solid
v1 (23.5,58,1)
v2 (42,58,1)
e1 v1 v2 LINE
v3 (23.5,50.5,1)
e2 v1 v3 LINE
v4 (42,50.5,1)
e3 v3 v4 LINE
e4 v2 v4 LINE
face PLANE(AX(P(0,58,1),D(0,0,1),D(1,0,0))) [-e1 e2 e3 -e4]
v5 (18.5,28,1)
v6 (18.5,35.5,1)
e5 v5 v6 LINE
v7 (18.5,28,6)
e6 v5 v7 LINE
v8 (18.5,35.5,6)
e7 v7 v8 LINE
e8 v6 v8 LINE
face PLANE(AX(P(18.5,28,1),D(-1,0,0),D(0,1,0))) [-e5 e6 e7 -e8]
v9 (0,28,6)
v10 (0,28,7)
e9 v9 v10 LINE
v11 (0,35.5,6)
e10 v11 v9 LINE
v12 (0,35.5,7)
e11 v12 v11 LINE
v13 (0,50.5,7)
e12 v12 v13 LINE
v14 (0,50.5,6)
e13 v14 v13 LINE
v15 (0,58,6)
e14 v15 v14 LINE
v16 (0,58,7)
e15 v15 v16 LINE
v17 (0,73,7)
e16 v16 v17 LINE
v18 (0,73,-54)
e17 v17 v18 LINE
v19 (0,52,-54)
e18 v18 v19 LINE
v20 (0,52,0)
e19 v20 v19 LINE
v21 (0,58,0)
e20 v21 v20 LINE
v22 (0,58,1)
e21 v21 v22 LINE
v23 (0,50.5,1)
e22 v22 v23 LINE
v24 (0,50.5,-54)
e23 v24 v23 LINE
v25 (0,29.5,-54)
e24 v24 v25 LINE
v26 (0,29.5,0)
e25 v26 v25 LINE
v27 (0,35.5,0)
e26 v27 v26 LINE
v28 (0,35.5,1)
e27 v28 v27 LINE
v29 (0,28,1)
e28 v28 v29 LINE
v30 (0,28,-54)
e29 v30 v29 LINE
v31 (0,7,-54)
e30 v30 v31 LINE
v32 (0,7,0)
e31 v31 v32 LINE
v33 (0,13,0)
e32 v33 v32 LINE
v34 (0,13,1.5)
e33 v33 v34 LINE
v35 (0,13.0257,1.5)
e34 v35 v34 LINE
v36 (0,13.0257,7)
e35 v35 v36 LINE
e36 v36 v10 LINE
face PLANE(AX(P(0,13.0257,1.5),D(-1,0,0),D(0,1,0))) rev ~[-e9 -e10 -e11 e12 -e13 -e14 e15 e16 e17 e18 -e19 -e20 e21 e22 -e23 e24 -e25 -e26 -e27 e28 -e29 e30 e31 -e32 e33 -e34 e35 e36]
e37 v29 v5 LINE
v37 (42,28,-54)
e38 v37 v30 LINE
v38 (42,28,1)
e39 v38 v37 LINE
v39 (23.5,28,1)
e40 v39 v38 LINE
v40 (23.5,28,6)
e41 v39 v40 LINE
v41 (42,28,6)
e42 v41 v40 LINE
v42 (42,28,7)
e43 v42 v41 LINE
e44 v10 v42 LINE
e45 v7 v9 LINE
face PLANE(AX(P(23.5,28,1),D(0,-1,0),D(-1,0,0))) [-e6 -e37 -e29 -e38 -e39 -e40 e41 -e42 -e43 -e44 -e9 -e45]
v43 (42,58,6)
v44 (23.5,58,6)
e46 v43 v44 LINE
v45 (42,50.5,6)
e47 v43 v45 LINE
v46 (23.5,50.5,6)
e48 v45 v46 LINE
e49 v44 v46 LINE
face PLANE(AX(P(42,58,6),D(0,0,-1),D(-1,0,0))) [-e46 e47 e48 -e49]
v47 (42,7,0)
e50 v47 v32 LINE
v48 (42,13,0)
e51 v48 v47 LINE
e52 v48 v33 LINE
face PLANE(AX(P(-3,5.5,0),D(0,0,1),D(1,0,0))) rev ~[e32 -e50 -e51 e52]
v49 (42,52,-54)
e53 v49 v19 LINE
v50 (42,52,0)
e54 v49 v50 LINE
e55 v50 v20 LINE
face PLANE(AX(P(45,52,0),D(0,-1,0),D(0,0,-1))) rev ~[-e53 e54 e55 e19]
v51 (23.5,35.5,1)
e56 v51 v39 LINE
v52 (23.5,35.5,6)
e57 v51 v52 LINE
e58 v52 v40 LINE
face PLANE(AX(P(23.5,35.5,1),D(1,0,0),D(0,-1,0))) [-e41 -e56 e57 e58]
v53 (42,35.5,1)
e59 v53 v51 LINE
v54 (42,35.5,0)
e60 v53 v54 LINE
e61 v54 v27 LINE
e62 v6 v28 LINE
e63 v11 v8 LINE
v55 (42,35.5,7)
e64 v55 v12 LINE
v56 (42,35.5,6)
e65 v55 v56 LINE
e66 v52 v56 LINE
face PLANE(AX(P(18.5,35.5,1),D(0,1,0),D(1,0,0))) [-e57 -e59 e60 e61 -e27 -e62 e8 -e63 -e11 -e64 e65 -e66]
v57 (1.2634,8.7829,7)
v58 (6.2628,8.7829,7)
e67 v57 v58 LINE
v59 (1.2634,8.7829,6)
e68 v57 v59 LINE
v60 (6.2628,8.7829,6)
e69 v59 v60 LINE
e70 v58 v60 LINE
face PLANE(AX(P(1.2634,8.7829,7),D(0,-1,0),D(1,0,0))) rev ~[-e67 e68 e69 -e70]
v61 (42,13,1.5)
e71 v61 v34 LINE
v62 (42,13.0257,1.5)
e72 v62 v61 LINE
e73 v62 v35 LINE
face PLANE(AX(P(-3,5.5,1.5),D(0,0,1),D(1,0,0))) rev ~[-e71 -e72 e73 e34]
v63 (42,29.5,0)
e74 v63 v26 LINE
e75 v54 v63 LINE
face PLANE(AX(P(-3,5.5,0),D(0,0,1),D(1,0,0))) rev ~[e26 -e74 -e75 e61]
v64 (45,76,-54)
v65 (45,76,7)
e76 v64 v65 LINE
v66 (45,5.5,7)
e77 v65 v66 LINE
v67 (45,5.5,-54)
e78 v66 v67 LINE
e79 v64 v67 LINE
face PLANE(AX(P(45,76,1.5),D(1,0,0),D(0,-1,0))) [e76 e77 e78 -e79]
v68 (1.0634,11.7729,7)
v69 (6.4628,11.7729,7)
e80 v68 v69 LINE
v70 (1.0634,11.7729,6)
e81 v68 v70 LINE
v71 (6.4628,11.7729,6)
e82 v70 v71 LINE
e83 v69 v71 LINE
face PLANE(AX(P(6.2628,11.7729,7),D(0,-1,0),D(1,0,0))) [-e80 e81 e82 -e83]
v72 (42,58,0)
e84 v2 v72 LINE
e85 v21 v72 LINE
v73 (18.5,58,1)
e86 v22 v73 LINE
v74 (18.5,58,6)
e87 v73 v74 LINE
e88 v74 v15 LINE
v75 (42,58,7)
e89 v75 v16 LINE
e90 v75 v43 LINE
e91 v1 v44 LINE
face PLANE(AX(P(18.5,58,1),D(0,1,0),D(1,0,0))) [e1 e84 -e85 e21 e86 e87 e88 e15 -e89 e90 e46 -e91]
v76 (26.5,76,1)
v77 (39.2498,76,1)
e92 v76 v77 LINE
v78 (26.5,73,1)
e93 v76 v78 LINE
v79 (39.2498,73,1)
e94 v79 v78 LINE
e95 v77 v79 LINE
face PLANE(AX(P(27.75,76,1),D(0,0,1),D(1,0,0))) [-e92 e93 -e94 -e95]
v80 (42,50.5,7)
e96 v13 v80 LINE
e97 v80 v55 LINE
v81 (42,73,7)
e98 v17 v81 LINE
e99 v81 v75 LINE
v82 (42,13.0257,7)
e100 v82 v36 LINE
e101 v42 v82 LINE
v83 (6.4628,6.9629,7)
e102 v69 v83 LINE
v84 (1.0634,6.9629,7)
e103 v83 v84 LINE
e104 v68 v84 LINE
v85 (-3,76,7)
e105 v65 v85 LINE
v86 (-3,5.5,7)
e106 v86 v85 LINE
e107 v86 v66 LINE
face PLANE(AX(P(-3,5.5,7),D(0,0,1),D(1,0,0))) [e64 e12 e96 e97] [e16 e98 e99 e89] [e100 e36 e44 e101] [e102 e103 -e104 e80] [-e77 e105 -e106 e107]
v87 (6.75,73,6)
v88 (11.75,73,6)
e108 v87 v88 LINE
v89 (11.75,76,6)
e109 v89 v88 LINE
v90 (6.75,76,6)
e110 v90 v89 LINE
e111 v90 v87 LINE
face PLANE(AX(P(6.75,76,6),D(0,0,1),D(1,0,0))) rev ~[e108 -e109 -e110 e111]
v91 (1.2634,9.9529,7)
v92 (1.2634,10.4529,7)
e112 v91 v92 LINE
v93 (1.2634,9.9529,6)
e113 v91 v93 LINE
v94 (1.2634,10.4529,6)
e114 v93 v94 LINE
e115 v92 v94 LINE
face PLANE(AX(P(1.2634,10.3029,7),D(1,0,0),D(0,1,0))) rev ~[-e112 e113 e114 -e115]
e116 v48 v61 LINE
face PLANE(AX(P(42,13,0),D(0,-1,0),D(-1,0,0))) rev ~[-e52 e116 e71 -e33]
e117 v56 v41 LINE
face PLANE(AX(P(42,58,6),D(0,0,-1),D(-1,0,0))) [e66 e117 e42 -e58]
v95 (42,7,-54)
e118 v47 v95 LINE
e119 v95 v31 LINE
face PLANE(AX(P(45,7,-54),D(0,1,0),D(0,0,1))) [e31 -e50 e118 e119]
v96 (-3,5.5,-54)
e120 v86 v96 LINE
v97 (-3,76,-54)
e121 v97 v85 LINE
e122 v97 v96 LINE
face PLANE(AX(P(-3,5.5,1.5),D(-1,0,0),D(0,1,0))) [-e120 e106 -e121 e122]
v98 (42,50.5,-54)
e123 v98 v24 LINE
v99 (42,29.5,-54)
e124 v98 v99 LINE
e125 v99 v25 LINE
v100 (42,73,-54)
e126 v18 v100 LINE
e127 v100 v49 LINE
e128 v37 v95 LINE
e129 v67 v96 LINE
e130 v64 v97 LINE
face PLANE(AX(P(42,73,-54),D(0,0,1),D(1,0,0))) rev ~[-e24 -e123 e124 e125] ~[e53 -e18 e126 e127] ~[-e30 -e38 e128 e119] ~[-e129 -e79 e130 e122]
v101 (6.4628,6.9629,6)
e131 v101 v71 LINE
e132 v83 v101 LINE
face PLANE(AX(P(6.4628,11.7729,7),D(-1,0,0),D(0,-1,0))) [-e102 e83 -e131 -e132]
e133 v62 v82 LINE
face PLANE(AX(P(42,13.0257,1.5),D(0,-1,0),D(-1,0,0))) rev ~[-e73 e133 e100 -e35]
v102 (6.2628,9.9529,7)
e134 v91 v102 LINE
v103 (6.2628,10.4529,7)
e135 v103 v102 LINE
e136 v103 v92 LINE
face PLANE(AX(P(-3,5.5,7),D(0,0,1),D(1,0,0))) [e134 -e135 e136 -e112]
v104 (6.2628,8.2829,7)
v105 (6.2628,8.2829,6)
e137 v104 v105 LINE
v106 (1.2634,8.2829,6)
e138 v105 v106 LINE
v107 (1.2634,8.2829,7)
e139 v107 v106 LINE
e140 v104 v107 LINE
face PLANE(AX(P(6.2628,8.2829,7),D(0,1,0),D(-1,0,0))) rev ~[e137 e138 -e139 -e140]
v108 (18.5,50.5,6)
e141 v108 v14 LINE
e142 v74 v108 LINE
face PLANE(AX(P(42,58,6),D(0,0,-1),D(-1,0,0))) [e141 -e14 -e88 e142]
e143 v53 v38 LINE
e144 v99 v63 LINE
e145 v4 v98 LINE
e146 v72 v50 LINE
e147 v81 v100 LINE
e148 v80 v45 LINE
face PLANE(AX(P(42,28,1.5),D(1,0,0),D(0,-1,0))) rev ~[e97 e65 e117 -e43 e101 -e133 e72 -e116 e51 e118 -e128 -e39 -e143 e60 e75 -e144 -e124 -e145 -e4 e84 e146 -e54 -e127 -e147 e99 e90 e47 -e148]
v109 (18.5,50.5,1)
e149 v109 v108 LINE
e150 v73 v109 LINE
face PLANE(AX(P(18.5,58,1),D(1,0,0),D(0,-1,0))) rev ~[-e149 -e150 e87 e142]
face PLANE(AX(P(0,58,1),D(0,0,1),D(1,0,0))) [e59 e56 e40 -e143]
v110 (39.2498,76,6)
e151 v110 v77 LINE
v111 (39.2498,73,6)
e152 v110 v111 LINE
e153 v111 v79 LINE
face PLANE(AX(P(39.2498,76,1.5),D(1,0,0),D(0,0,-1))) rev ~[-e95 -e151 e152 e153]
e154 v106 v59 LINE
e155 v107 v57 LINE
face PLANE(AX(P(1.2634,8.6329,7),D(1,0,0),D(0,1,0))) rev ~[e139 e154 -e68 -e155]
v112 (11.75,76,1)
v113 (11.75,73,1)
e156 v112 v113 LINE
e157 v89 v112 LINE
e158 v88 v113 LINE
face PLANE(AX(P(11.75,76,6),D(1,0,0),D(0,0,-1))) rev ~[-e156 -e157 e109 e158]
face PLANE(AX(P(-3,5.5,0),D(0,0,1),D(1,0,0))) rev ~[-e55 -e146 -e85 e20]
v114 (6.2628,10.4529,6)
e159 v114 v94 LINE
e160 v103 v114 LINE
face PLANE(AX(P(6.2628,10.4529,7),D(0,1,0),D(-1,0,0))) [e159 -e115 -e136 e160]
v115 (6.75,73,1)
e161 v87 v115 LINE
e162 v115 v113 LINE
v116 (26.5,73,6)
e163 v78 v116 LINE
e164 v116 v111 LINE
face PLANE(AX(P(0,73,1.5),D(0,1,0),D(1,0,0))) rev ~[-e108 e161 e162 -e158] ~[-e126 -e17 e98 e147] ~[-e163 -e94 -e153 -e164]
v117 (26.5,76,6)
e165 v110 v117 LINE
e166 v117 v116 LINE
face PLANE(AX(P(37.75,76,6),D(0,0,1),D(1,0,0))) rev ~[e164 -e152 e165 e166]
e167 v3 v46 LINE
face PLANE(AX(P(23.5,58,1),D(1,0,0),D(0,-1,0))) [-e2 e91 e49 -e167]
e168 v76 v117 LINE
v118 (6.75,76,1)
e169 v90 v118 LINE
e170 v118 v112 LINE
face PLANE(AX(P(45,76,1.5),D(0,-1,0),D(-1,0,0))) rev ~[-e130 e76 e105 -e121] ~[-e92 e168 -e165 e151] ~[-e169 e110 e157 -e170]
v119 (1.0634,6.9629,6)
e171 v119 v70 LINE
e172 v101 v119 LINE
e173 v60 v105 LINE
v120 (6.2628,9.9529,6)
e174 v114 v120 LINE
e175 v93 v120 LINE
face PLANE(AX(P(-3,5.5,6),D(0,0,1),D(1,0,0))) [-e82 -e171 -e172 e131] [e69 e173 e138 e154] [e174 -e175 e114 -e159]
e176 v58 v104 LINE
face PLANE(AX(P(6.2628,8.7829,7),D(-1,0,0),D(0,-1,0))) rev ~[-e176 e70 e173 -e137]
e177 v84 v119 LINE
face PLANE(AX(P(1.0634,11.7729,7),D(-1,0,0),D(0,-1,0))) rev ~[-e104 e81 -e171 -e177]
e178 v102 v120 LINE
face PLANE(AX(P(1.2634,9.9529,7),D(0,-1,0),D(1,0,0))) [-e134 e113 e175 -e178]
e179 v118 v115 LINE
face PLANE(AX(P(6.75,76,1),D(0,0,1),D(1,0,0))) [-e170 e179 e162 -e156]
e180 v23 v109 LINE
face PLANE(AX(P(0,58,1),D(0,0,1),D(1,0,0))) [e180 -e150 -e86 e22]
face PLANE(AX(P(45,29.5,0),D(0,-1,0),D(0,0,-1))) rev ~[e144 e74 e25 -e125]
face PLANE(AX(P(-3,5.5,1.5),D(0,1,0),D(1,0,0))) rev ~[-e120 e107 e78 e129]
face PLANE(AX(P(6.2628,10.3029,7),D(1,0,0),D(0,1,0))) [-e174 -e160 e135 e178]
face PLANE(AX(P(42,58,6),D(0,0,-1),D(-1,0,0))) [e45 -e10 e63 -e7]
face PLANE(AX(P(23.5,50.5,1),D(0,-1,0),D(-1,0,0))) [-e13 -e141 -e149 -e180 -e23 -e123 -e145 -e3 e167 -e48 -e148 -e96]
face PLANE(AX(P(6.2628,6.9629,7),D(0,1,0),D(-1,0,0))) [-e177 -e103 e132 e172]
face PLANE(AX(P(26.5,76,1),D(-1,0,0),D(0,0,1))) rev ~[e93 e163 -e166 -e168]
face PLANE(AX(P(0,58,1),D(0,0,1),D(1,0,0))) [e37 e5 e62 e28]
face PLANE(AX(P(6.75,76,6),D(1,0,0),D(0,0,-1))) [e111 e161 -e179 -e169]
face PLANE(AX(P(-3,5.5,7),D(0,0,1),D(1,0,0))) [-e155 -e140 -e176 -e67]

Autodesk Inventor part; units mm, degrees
ref_plane "YZ Plane" through (0, 0, 0) normal (1, 0, 0) x (0, 1, 0)
ref_plane "XZ Plane" through (0, 0, 0) normal (0, 1, 0) x (-1, 0, 0)
ref_plane "XY Plane" through (0, 0, 0) normal (0, 0, 1) x (1, 0, 0)
ref_plane "Plano de trabajo1" through (0, 3, 0) normal (0, 1, 0) x (1, 0, 0)
ref_plane "Plano de trabajo2" through (4.2498, 73, -5.25) normal (0, 1, 0) x (1, 0, 0)
sketch "Boceto3" plane through (4.2498, 73, -5.25) normal (0, 1, 0) x (1, 0, 0)
  line L0 (37.7502, 51.75) -> (40.7502, 51.75)
  line L1 (-7.2498, -8.25) -> (40.7502, -8.25)
  line L2 (40.7502, -8.25) -> (40.7502, 51.75)
  line L3 (40.7502, 51.75) -> (-7.2498, 51.75)
  line L4 (-7.2498, 51.75) -> (-7.2498, -8.25)
  circle A0 centre (33.5, 43.5) radius 1.25
  circle A1 centre (33.5, 0) radius 1.25
  circle A2 centre (0, 43.5) radius 1.25
  circle A3 centre (0, 0) radius 1.25
  point P0 (-4.2498, -5.25)
  point P1 (37.7502, -5.25)
  point P2 (37.7502, 48.75)
  dimension "d39" = 2.5
  dimension "d40" = 2.5
  dimension "d41" = 2.5
  dimension "d42" = 2.5
ref_plane "Plano de trabajo3" through (4.2498, 73, -5.25) normal (0, -1, 0) x (1, 0, 0)
sketch "Boceto5" plane through (4.2498, 73, -5.25) normal (0, -1, 0) x (1, 0, 0)
  line L0 (-4.2498, 5.25) -> (-4.2498, -48.75) projected
  line L1 (-4.2498, 5.25) -> (-4.2498, -48.75)
  line L2 (37.7502, -48.75) -> (37.7502, 5.25)
  line L3 (37.7502, 5.25) -> (37.7502, 8.25)
  line L4 (37.7502, -48.75) -> (37.7502, -51.75)
  line L5 (-4.2498, 5.25) -> (-7.2498, 5.25)
  line L6 (-4.2498, -48.75) -> (-7.2498, -48.75)
  line L7 (37.7502, -48.75) -> (40.7502, -48.75)
  line L8 (37.7502, 5.25) -> (40.7502, 5.25)
  line L9 (40.7502, 5.25) -> (40.7502, -48.75)
  line L10 (40.7502, -51.75) -> (40.7502, 8.25) projected
  line L11 (-7.2498, -48.75) -> (-7.2498, 5.25)
  line L12 (-7.2498, 8.25) -> (-7.2498, -51.75) projected
extrude "Extrusión5" add sketch "Boceto5" along normal blind 67.5
extrude "Extrusión6" add sketch "Boceto3" along normal blind 3
sketch "Boceto6" plane through (4.2498, 76, -5.25) normal (0, 1, 0) x (1, 0, 0)
  circle A0 centre (0, 43.5) radius 1.25 projected
  circle A1 centre (0, 43.5) radius 1.25
  circle A2 centre (33.5, 43.5) radius 1.25 projected
  circle A3 centre (33.5, 43.5) radius 1.25
  circle A4 centre (33.5, 0) radius 1.25 projected
  circle A5 centre (33.5, 0) radius 1.25
  circle A6 centre (0, 0) radius 1.25
  point P0 (-4.2498, -5.25)
extrude "Extrusión7" add sketch "Boceto6" against normal blind 3
sketch "Boceto8" plane through (45, 5.5, 0) normal (1, 0, 0) x (0, 0, -1)
  line L0 (0, 0) -> (54, 0) projected
  line L1 (0, 0) -> (54, 0)
  line L2 (54, 0) -> (54, 1.5)
  line L3 (54, 1.5) -> (0, 1.5)
  line L4 (0, 67.5) -> (0, 0) projected
  line L5 (0, 0) -> (0, 1.5)
  line L6 (54, 1.5) -> (54, 21.5)
  line L7 (54, 21.5) -> (54, 22.5)
  line L8 (54, 22.5) -> (0, 22.5)
  line L9 (0, 22.5) -> (0, 24)
  line L10 (0, 24) -> (54, 24)
  line L11 (54, 22.5) -> (54, 24)
  line L12 (54, 24) -> (54, 45)
  line L13 (54, 67.5) -> (54, 0) projected
  line L14 (54, 45) -> (0, 45)
  line L15 (0, 45) -> (0, 46.5)
  line L16 (0, 46.5) -> (54, 46.5)
  line L17 (54, 45) -> (54, 46.5)
  line L18 (54, 67.5) -> (0, 67.5) projected
  line L19 (54, 46.5) -> (54, 67.5)
  point P0 (0, -5.5)
  dimension "d54" = 1.5
  dimension "d55" = 20
  dimension "d60" = 1
  dimension "d61" = 1.5
  dimension "d62" = 21
  dimension "d63" = 1.5
extrude "Extrusión8" add sketch "Boceto8" against normal blind 47.25 contours L4 L3 L2 L0 | L4 L10 L11 L8 | L4 L16 L13 L14
sketch "Boceto9" plane through (-3, 5.5, 0) normal (0, 0, 1) x (1, 0, 0)
  line L0 (3, 67.5) -> (3, 46.5) projected
  line L1 (3, 46.5) -> (3, 52.5)
  line L2 (3, 52.5) -> (45, 52.5)
  line L3 (45, 67.5) -> (45, 46.5) projected
  line L4 (45, 52.5) -> (45, 46.5)
  line L5 (45, 46.5) -> (3, 46.5) projected
  line L6 (45, 46.5) -> (3, 46.5)
  line L7 (45, 45) -> (45, 24) projected
  line L8 (3, 24) -> (45, 24)
  line L9 (45, 24) -> (45, 30)
  line L10 (45, 30) -> (3, 30)
  line L11 (3, 30) -> (3, 24)
  line L12 (45, 22.5) -> (45, 1.5) projected
  line L13 (3, 2) -> (3, 1.5)
  line L14 (45, 1.5) -> (3, 1.5) projected
  line L15 (3, 1.5) -> (45, 1.5)
  line L16 (45, 1.5) -> (45, 7.5)
  line L17 (45, 22.5) -> (45, 1.5) projected
  line L18 (45, 7.5) -> (3, 7.5)
  line L19 (45, 7.5) -> (45, 1.5)
  line L20 (3, 1.5) -> (3, 7.5)
  line L21 (3, 22.5) -> (3, 1.5) projected
  point P0 (3, -5.5)
  point P1 (45, 8)
  point P2 (45, 2)
  dimension "d66" = 6
  dimension "d70" = 6
extrude "Extrusión10" add sketch "Boceto9" along normal blind 1.5
sketch "Boceto11" plane through (-3, 5.5, 0) normal (0, 0, 1) x (1, 0, 0)
  line L0 (48, 0) -> (0, 0) projected
  line L1 (48, 0) -> (0, 0)
  line L2 (0, 0) -> (0, 67.5)
  line L3 (3, 67.5) -> (3, 52.5) projected
  line L4 (0, 67.5) -> (3, 67.5)
  line L5 (3, 67.5) -> (3, 46.5)
  line L6 (45, 46.5) -> (3, 46.5) projected
  line L7 (3, 46.5) -> (45, 46.5)
  line L8 (45, 67.5) -> (45, 52.5) projected
  line L9 (45, 46.5) -> (45, 67.5)
  line L10 (48, 67.5) -> (45, 67.5) projected
  line L11 (45, 67.5) -> (48, 67.5)
  line L12 (48, 67.5) -> (48, 0)
  line L13 (3, 7.5) -> (3, 1.5) projected
  line L14 (3, 22.5) -> (3, 7.5) projected
  line L15 (3, 7.5) -> (3, 22.5)
  line L16 (3, 22.5) -> (45, 22.5)
  line L17 (45, 22.5) -> (45, 1.5) projected
  line L18 (45, 22.5) -> (45, 1.5)
  line L19 (45, 1.5) -> (3, 1.5)
  line L20 (3, 1.5) -> (3, 7.5)
  line L21 (45, 24) -> (3, 24) projected
  line L22 (3, 24) -> (45, 24)
  line L23 (45, 24) -> (45, 45)
  line L24 (3, 45) -> (3, 30) projected
  line L25 (45, 45) -> (3, 45)
  line L26 (3, 45) -> (3, 24)
  point P0 (3, -5.5)
  dimension "d75" = 21
extrude "Extrusión12" add sketch "Boceto11" along normal blind 1.5
sketch "Boceto12" plane through (-3, 73, 3) normal (0, 0, 1) x (1, 0, 0)
  line L0 (45, 0) -> (48, 0) projected
  line L1 (0, 3) -> (48, 3)
  line L2 (48, 3) -> (48, 0)
  line L3 (48, 0) -> (0, 0)
  line L4 (0, 0) -> (0, 3)
  point P0 (3, -73)
extrude "Extrusión13" cut sketch "Boceto12" against normal blind 1.5
sketch "Boceto13" plane through (45, 73, -57) normal (0, 0, -1) x (-1, 0, 0)
  line L0 (0, 3) -> (48, 3)
  line L1 (48, 3) -> (48, 0)
  line L2 (48, 0) -> (0, 0)
  line L3 (0, 0) -> (0, 3)
  point P0 (45, -73)
extrude "Extrusión14" cut sketch "Boceto13" against normal blind 3
sketch "Boceto14" plane through (-3, 5.5, 1.5) normal (0, 0, 1) x (1, 0, 0)
  line L0 (48, 70.5) -> (0, 70.5) projected
  line L1 (0, 0) -> (48, 0) projected
  line L2 (0, 70.5) -> (48, 70.5)
  line L3 (48, 70.5) -> (48, 0)
  line L4 (48, 0) -> (0, 0)
  line L5 (0, 0) -> (0, 70.5)
  line L6 (3, 45) -> (45, 45) projected
  line L7 (3, 45) -> (45, 45)
  line L8 (45, 45) -> (45, 30)
  line L9 (45, 30) -> (3, 30)
  line L10 (3, 30) -> (3, 45)
  line L11 (3, 22.5) -> (45, 22.5) projected
  line L12 (45, 22.5) -> (45, 1.5) projected
  line L13 (3, 22.5) -> (45, 22.5)
  line L14 (45, 22.5) -> (45, 7.5257)
  line L15 (45, 7.5257) -> (3, 7.5257)
  line L16 (3, 7.5257) -> (3, 22.5)
  line L17 (3, 52.5) -> (3, 67.5) projected
  line L18 (45, 67.5) -> (45, 46.5) projected
  line L19 (3, 67.5) -> (45, 67.5)
  line L20 (45, 67.5) -> (45, 52.5)
  line L21 (45, 52.5) -> (3, 52.5)
  line L22 (3, 52.5) -> (3, 67.5)
  point P0 (3, -5.5)
  dimension "d86" = 15
extrude "Extrusión15" add sketch "Boceto14" along normal blind 5.5
sketch "Boceto15" plane through (0, 58, 0) normal (0, 1, 0) x (1, 0, 0)
  line L0 (42, 0) -> (42, -7)
  line L1 (0, -7) -> (0, 0)
  line L2 (0, -7) -> (1.5, -7)
  line L3 (0, -7) -> (0, -5.5)
  line L4 (0, 0) -> (0, -7) projected
  line L5 (42, -7) -> (42, -6)
  line L6 (42, 0) -> (42, -7) projected
  line L7 (42, -6) -> (0, -6)
  line L8 (0, -7) -> (0, -6)
  line L9 (0, 0) -> (0, -1)
  line L10 (0, -1) -> (42, -1)
  line L11 (42, 0) -> (42, -1)
  dimension "d89" = 1.5
  dimension "d90" = 1.5
  dimension "d91" = 1
extrude "Extrusión16" cut sketch "Boceto15" against normal blind 41.75
sketch "Boceto16" plane through (0, 28, 1) normal (0, 0, 1) x (1, 0, 0)
  line L0 (42, 0) -> (0, 0) projected
  line L1 (0, 0) -> (42, 0)
  line L2 (0, 7.5) -> (42, 7.5) projected
  line L3 (21, 0) -> (18.5, 0)
  line L4 (18.5, 0) -> (18.5, 7.5)
  line L5 (18.5, 7.5) -> (23.5, 7.5)
  line L6 (23.5, 7.5) -> (23.5, 0)
  point P0 (0, -28)
  dimension "d94" = 2.5
  dimension "d95" = 5
extrude "Extrusión17" add sketch "Boceto16" along normal blind 5.75
sketch "Boceto17" plane through (0, 58, 1) normal (0, 0, 1) x (1, 0, 0)
  line L0 (0, 0) -> (42, 0) projected
  line L1 (21, 0) -> (18.5, 0)
  line L2 (18.5, 0) -> (23.5, 0)
  line L3 (23.5, 0) -> (23.5, -7.5)
  line L4 (42, -28.5) -> (0, -28.5) projected
  line L5 (23.5, -7.5) -> (18.5, -7.5)
  line L6 (42, -7.5) -> (0, -7.5) projected
  line L7 (18.5, 0) -> (18.5, -7.5)
  point P0 (0, -58)
  dimension "d98" = 2.5
  dimension "d99" = 5
  dimension "d100" = 7.5
extrude "Extrusión18" add sketch "Boceto17" along normal blind 5.75
sketch "Boceto18" plane through (4.2498, 76, -5.25) normal (0, 1, 0) x (1, 0, 0)
  line L0 (-4.2498, 48.75) -> (-4.2498, -12.25) projected
  line L1 (-4.2498, -12.25) -> (-4.2498, -11.25)
  line L2 (-4.2498, -11.25) -> (-4.2498, -6.25)
  line L3 (2.5002, -11.25) -> (7.5002, -11.25)
  line L4 (-4.2498, -5.25) -> (-4.2498, 48.75) projected
  line L5 (7.5002, -11.25) -> (7.5002, -6.25)
  line L6 (2.5002, -11.25) -> (2.5002, -6.25)
  line L7 (2.5002, -6.25) -> (7.5002, -6.25)
  line L8 (23.5002, -6.25) -> (23.5002, -11.25)
  line L9 (33.5002, -6.25) -> (33.5002, -11.25)
  line L10 (23.5002, -6.25) -> (33.5002, -6.25)
  line L11 (23.5002, -11.25) -> (33.5002, -11.25)
  dimension "d103" = 1
  dimension "d104" = 5
extrude "Extrusión19" cut sketch "Boceto18" against normal blind 6
sketch "Boceto19" plane through (4.2498, 76, -5.25) normal (0, 1, 0) x (1, 0, 0)
  line L0 (23.5002, -6.25) -> (33.5002, -6.25) projected
  line L1 (23.5002, -6.25) -> (22.2502, -6.25)
  line L2 (37.7502, -6.25) -> (19.2502, -6.25) projected
  line L3 (23.5002, -11.25) -> (22.2502, -11.25)
  line L4 (19.2502, -11.25) -> (37.7502, -11.25) projected
  line L5 (22.2502, -6.25) -> (22.2502, -11.25)
  line L6 (-4.2498, -6.75) -> (37.7502, -6.75) projected
  line L7 (33.5002, -6.25) -> (35, -6.25)
  line L8 (35, -11.25) -> (35, -6.25)
  line L9 (23.5002, -11.25) -> (33.5002, -11.25) projected
  line L10 (35, -11.25) -> (33.5002, -11.25)
  point P0 (-4.2498, -5.25)
  dimension "d115" = 1.25
extrude "Extrusión20" cut sketch "Boceto19" against normal blind 9.5
sketch "Boceto20" plane through (-3, 5.5, 7) normal (0, 0, 1) x (1, 0, 0)
  line L0 (3, 7.5) -> (3, 7.5257) projected
  line L1 (45, 1.5) -> (3, 1.5) projected
  line L2 (4.2634, 4.6029) -> (9.2628, 4.6029)
  line L3 (4.2634, 2.9329) -> (9.2628, 2.9329)
  line L4 (4.2634, 3.1329) -> (9.2628, 3.1329)
  line L5 (4.2634, 4.8029) -> (9.2628, 4.8029)
  line L6 (4.2634, 4.8029) -> (4.2634, 6.2729)
  line L7 (4.2634, 6.2729) -> (9.2628, 6.2729)
  line L8 (9.2628, 2.9329) -> (9.2628, 1.4629)
  line L9 (9.2628, 1.4629) -> (4.2634, 1.4629)
  line L10 (4.2634, 1.4629) -> (4.2634, 2.9329)
  line L11 (4.2634, 3.1329) -> (4.2634, 4.6029)
  line L12 (9.2628, 4.8029) -> (9.2628, 6.2729)
  line L13 (9.2628, 4.6029) -> (9.2628, 3.1329)
  point P0 (3, -5.5)
  dimension "d135" = 1.47
extrude "Extrusión21" cut sketch "Boceto20" against normal blind 1
sketch "Boceto21" plane through (-3, 5.5, 7) normal (0, 0, 1) x (1, 0, 0)
  line L0 (4.2634, 6.2729) -> (9.2628, 6.2729) projected
  line L1 (4.2634, 6.2729) -> (9.2628, 6.2729)
  line L2 (9.2628, 2.9329) -> (9.2628, 1.4629) projected
  line L3 (9.2628, 6.2729) -> (9.2628, 1.4629)
  line L4 (9.2628, 1.4629) -> (4.2634, 1.4629) projected
  line L5 (9.2628, 1.4629) -> (4.2634, 1.4629)
  line L6 (4.2634, 4.8029) -> (4.2634, 6.2729) projected
  line L7 (4.2634, 1.4629) -> (4.2634, 6.2729)
  line L8 (4.2634, 6.2729) -> (4.0634, 6.2729)
  line L9 (4.0634, 6.2729) -> (4.0634, 1.4629)
  line L10 (45, 1.5) -> (3, 1.5) projected
  line L11 (4.0634, 1.4629) -> (4.2634, 1.4629)
  line L12 (9.2628, 6.2729) -> (9.2628, 4.8029) projected
  line L13 (9.2628, 6.2729) -> (9.4628, 6.2729)
  line L14 (9.4628, 6.2729) -> (9.4628, 1.4629)
  line L15 (9.4628, 1.4629) -> (9.2628, 1.4629)
  point P0 (3, -5.5)
  dimension "d138" = 0.2
  dimension "d139" = 0.2
extrude "Extrusión22" cut sketch "Boceto21" against normal blind 1 contours L6 L7 L10 L9 L8 | L13 L14 L10 L2 L3 | L7 L11 L9 L10 | L14 L15 L2 L10
sketch "Boceto22" plane through (-3, 5.5, 7) normal (0, 0, 1) x (1, 0, 0)
  line L0 (4.2634, 4.8029) -> (4.2634, 4.6029) projected
  line L1 (4.2634, 4.7029) -> (4.7634, 4.7029) construction
  line L2 (4.2634, 4.7029) -> (4.2634, 4.9529)
  line L3 (4.2634, 4.7029) -> (4.2634, 4.4529)
  line L4 (4.2634, 4.4529) -> (9.2628, 4.4529)
  line L5 (4.2634, 4.6029) -> (9.2628, 4.6029) projected
  line L6 (9.2628, 4.4529) -> (9.2628, 4.9529)
  line L7 (9.2628, 4.6029) -> (9.2628, 4.8029) projected
  line L8 (9.2628, 4.9529) -> (4.2634, 4.9529)
  line L9 (4.2634, 3.1329) -> (4.2634, 2.9329) projected
  line L10 (4.2634, 3.0329) -> (4.2634, 3.2829)
  line L11 (4.2634, 3.2829) -> (9.2628, 3.2829)
  line L12 (9.2628, 3.2829) -> (9.2628, 2.7829)
  line L13 (9.2628, 2.7829) -> (4.2634, 2.7829)
  line L14 (4.2634, 2.7829) -> (4.2634, 3.0329)
  point P0 (3, -5.5)
  dimension "d148" = 0.5
  dimension "d149" = 0.25
  dimension "d150" = 0.5
extrude "Extrusión23" add sketch "Boceto22" against normal blind 1
properties part number "Relé - columnes tapa"
